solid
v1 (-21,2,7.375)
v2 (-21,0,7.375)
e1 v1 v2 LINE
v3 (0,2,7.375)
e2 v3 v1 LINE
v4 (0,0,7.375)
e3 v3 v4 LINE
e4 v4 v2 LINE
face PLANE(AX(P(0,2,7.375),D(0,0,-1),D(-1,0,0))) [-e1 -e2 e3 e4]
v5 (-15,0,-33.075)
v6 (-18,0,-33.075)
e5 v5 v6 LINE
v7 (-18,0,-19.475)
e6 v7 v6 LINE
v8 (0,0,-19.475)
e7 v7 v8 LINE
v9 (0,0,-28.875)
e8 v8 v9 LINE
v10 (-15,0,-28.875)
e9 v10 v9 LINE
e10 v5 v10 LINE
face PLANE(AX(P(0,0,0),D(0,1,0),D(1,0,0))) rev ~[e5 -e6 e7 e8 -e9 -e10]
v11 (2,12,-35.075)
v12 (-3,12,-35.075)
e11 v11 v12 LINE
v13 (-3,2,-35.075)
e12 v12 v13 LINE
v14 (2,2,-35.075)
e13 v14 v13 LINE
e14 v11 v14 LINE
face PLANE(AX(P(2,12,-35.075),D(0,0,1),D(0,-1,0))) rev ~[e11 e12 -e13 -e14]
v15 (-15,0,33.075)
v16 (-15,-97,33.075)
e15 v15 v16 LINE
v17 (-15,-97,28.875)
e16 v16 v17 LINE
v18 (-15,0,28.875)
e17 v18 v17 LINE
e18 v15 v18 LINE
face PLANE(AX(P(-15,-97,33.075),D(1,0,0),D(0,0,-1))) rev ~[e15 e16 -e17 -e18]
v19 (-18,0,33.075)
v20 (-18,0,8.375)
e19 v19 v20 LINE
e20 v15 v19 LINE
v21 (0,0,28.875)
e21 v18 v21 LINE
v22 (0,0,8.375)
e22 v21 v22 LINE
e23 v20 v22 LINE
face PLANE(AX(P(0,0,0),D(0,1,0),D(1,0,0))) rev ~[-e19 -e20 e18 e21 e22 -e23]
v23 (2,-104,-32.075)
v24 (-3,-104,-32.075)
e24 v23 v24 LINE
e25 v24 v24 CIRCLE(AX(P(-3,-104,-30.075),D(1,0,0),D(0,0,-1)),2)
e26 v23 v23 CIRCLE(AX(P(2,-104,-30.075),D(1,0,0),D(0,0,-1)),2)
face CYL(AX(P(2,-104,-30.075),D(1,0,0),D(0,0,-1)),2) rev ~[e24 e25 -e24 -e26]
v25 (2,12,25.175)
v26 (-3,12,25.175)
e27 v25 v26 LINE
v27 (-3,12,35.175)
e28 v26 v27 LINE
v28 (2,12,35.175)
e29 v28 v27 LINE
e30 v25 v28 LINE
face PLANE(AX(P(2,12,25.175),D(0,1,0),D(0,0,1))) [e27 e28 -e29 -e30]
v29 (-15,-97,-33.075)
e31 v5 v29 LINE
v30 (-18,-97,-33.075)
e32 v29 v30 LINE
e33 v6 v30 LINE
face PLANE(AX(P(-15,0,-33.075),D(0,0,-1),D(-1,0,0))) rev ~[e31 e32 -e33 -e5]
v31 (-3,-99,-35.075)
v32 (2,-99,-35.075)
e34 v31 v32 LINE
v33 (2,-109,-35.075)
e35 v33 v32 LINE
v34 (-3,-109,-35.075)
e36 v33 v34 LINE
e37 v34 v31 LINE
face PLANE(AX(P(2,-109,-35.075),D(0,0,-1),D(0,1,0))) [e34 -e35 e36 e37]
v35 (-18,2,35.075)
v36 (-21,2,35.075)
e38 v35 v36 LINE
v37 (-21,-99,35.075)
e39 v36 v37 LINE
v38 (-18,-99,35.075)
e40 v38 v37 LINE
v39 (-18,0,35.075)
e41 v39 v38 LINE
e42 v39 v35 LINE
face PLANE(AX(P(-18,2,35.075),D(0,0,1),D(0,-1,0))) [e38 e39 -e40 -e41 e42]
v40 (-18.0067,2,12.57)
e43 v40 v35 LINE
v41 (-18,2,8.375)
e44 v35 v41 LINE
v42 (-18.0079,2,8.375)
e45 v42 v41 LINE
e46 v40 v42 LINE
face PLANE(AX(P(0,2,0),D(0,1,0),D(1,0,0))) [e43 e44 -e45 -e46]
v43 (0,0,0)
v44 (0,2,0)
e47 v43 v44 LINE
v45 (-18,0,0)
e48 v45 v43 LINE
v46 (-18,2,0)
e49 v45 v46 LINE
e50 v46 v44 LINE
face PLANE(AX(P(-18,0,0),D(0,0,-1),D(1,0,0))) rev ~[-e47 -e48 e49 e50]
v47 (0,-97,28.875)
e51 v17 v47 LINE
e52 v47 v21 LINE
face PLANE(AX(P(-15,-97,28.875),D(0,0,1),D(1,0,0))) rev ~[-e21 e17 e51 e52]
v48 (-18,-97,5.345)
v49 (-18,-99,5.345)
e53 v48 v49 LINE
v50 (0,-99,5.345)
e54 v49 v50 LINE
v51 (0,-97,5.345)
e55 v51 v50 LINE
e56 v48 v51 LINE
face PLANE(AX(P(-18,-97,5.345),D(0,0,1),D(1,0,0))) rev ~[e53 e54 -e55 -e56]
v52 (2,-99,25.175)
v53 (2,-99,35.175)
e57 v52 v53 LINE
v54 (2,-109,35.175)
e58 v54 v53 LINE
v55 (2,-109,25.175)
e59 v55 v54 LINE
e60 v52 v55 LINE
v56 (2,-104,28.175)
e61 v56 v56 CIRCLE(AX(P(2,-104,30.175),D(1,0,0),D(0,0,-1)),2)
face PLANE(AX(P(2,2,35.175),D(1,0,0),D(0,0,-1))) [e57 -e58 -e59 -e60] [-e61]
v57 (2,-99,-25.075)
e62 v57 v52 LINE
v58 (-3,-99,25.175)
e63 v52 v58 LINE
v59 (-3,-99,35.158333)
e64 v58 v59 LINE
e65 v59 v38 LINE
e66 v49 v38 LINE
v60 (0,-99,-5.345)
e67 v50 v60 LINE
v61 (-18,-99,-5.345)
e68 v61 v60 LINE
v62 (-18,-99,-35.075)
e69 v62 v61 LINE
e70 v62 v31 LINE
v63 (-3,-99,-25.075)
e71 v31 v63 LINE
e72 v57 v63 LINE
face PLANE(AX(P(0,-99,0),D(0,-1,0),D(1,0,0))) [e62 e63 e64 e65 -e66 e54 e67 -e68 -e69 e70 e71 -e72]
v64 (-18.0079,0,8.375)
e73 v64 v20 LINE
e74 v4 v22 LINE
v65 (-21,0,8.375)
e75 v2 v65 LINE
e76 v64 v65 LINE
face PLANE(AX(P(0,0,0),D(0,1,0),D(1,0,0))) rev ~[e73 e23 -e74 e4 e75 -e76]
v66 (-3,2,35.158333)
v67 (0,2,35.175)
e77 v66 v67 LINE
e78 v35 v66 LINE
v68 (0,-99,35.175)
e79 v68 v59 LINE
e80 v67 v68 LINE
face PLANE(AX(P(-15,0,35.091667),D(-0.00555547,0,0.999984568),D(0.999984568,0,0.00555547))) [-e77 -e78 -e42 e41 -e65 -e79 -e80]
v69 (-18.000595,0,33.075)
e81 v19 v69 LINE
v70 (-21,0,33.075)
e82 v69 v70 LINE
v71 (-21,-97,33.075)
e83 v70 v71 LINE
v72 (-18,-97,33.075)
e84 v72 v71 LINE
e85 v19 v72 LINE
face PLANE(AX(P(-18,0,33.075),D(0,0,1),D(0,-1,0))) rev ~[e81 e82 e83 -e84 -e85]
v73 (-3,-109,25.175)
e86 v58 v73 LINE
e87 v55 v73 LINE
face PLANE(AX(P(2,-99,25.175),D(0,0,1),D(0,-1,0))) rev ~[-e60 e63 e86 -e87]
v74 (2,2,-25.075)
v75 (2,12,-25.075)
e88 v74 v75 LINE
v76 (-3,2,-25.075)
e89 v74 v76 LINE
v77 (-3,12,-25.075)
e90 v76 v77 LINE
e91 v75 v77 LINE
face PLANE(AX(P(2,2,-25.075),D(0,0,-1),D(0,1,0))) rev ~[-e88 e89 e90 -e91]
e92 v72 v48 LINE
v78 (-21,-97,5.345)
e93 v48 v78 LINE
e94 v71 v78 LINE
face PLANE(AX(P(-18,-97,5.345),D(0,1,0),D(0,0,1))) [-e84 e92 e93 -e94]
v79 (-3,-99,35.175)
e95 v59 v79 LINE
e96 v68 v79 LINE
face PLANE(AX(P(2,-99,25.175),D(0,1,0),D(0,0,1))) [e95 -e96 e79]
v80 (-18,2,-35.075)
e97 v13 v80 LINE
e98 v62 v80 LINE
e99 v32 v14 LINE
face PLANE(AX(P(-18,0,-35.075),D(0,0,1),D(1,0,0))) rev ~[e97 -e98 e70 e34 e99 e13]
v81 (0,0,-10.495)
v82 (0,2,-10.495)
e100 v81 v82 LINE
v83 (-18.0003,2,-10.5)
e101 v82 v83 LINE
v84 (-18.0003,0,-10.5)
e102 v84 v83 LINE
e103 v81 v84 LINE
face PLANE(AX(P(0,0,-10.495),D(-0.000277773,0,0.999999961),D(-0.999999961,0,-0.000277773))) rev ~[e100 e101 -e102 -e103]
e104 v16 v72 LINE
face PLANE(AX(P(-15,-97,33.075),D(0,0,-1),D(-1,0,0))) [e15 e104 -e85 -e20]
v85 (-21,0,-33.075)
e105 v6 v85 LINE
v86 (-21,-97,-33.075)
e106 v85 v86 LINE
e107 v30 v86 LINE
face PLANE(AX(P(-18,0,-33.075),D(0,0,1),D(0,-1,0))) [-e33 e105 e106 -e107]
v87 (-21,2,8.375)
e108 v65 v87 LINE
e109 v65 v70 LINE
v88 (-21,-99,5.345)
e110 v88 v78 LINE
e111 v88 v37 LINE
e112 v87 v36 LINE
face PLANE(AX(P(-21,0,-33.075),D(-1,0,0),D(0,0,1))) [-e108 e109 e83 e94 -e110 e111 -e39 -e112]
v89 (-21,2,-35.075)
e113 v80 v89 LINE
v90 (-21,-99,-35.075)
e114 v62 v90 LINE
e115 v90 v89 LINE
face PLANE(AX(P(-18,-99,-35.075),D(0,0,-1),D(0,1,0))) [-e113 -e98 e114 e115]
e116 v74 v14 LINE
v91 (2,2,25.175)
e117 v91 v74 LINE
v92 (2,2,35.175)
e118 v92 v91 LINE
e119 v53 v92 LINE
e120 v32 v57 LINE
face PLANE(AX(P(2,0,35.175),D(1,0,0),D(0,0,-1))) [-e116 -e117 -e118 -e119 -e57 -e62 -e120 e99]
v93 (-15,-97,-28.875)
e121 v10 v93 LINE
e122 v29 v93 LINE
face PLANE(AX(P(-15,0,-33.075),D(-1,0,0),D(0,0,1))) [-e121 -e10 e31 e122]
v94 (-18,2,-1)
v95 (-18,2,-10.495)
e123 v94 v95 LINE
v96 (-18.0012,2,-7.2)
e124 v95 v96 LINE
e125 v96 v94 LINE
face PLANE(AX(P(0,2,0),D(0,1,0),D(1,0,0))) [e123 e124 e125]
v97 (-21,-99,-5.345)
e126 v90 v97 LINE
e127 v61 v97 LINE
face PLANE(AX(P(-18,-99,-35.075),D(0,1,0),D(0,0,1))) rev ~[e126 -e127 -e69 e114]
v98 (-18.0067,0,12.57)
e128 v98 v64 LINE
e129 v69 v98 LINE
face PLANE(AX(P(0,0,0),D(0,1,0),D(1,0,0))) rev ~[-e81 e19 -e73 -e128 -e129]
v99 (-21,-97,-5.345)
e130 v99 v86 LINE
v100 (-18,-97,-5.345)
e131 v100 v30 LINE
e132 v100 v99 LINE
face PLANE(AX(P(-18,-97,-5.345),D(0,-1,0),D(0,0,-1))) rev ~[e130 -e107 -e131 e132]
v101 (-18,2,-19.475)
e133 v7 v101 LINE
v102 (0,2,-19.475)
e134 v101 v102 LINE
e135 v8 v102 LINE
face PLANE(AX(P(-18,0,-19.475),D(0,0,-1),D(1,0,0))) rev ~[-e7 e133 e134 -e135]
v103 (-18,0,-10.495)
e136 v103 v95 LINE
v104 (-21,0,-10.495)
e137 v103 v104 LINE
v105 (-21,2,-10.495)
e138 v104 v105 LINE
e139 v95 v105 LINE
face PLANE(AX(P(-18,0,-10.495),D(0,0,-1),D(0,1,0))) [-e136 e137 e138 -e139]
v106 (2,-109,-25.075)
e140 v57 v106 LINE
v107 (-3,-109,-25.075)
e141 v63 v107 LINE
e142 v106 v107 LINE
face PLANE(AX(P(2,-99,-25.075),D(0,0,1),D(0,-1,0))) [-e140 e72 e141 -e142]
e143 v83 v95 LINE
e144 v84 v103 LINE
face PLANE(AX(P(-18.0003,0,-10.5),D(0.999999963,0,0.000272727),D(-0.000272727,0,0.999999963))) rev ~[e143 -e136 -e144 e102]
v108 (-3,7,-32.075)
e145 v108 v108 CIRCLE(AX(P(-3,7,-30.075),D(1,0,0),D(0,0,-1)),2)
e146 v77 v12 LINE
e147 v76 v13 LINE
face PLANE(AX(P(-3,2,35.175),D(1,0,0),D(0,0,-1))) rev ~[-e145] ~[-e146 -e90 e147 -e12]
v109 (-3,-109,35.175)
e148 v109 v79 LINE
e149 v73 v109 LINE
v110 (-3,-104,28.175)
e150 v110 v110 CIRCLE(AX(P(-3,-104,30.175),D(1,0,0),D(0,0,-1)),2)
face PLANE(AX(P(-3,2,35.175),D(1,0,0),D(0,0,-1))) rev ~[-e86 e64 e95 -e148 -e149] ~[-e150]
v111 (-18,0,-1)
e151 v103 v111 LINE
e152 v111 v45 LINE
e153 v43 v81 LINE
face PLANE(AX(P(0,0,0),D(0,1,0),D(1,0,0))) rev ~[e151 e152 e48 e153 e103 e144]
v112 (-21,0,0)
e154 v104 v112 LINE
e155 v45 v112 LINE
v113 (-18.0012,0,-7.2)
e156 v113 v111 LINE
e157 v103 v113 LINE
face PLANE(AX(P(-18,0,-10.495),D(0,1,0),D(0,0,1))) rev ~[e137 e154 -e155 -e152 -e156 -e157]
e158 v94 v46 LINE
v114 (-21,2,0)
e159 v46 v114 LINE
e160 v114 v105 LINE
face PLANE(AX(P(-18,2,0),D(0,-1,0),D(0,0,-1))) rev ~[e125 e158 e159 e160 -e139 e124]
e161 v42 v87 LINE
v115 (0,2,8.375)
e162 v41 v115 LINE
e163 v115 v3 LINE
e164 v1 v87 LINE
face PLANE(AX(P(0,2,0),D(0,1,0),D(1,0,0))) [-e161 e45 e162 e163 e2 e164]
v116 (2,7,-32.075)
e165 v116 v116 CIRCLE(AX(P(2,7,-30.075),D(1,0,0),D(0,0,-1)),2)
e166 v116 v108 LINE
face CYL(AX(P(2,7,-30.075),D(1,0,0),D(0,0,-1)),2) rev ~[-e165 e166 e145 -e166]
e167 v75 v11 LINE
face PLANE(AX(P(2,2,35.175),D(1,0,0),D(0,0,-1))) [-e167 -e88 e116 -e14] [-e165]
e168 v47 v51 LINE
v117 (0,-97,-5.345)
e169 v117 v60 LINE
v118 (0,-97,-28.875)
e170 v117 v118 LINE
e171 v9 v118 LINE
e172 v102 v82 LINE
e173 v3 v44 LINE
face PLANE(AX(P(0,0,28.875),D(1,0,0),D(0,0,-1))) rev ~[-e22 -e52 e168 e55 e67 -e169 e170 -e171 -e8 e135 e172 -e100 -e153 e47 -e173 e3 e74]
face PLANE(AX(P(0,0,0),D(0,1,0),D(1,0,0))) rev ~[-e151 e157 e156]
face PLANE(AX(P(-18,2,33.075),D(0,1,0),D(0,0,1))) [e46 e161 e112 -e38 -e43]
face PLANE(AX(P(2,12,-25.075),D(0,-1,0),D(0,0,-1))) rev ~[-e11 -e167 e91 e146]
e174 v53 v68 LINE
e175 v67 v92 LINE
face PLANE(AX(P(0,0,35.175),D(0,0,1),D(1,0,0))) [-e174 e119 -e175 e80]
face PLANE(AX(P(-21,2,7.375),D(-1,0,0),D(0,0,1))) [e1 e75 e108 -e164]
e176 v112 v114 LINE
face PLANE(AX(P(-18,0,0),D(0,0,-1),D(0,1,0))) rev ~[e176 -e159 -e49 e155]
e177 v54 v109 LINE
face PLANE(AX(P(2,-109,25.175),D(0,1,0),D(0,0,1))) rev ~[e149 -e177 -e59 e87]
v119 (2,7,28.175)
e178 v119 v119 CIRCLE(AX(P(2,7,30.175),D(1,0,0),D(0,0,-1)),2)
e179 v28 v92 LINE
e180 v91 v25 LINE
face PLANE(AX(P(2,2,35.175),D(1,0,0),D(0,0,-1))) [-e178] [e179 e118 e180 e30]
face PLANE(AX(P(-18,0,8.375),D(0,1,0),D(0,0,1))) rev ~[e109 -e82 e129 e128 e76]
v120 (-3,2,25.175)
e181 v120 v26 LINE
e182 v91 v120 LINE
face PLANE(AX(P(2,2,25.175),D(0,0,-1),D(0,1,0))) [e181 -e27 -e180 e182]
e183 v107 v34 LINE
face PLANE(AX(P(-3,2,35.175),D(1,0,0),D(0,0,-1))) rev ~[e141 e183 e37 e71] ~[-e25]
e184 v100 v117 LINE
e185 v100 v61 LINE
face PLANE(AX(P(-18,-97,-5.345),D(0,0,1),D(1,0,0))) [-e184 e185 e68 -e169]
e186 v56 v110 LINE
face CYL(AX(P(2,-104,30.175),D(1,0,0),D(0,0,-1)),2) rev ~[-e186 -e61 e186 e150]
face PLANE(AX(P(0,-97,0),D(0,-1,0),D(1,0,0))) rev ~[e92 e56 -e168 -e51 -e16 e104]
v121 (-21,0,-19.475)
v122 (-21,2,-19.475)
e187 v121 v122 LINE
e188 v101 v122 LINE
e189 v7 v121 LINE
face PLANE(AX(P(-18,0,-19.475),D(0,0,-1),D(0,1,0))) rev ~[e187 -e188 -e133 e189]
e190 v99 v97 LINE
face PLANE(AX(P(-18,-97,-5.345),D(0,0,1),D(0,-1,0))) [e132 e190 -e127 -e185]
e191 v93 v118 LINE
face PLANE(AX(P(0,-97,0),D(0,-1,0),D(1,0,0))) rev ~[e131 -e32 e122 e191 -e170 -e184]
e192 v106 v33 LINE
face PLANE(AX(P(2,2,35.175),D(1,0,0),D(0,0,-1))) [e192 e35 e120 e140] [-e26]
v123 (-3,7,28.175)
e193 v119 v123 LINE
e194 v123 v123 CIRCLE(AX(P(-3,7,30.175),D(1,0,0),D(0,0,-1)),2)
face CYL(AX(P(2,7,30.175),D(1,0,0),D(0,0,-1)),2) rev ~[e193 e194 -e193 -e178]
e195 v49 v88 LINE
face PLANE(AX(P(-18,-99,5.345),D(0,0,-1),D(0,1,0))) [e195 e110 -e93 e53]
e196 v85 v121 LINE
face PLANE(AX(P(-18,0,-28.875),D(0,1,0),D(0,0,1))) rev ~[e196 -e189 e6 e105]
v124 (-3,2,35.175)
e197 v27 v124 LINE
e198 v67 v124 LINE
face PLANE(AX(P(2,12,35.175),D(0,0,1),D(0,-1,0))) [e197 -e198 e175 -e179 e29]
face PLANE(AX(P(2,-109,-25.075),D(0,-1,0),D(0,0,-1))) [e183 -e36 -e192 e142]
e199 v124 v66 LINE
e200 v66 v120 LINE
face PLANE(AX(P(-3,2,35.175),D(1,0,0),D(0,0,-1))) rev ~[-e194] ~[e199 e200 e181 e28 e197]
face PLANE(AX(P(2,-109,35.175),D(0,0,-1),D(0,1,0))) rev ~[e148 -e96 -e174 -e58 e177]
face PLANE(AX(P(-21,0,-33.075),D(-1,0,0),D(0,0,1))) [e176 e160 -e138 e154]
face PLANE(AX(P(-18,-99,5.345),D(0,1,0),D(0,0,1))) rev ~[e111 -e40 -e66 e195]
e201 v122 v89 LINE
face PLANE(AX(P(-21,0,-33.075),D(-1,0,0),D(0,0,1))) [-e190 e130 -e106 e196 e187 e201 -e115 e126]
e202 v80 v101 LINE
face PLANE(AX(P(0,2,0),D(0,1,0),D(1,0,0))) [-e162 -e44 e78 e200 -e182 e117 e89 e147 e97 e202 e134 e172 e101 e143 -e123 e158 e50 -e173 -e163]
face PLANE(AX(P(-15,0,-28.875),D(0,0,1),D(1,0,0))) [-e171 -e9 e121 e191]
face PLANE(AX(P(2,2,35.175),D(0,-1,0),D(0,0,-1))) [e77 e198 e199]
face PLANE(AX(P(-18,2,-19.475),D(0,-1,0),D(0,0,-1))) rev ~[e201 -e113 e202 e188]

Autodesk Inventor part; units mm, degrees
ref_plane "YZ Plane" through (0, 0, 0) normal (1, 0, 0) x (0, 1, 0)
ref_plane "XZ Plane" through (0, 0, 0) normal (0, 1, 0) x (-1, 0, 0)
ref_plane "XY Plane" through (0, 0, 0) normal (0, 0, 1) x (1, 0, 0)
sketch "Sketch1" plane through (0, 0, 0) normal (0, 1, 0) x (-1, 0, 0)
  line L0 (15, 35.0917) -> (15, 35.175)
  line L1 (-2, 35.175) -> (-2, -33.075)
  line L2 (-2, -33.075) -> (-2, -35.075)
  line L3 (15, 33.075) -> (15, 28.875)
  line L4 (15, 28.875) -> (0, 28.875)
  line L5 (15, 33.075) -> (18, 33.075)
  line L6 (18, 33.075) -> (18, 35.075)
  line L7 (18, 35.075) -> (0, 35.175)
  line L8 (15, -33.075) -> (15, -28.875)
  line L9 (15, -28.875) -> (0, -28.875)
  line L10 (15, -33.075) -> (18, -33.075)
  line L11 (18, -33.075) -> (18, -35.075)
  line L12 (18, -35.075) -> (0, -35.075)
  line L13 (0, 35.175) -> (-2, 35.175)
  line L14 (0, -35.075) -> (-2, -35.075)
  line L15 (0, 28.875) -> (0, -28.875)
  point P0 (0, 0)
  point P1 (15, 39.275)
  point P2 (-2, -37.275)
  point P3 (-2, -39.275)
  point P4 (18, -39.275)
  point P5 (18, -37.275)
extrude "Extrusion1" add sketch "Sketch1" against normal blind 97
sketch "Sketch2" plane through (0, 0, 0) normal (0, 1, 0) x (1, 0, 0)
  line L0 (2, 39.275) -> (-18, 39.275) projected
  line L1 (2, -35.175) -> (2, 35.075) projected
  line L2 (-18, 39.275) -> (-18, 37.275) projected
  line L3 (-18, 35.075) -> (-18, 25.675)
  line L4 (0, -28.875) -> (0, 28.875) projected
  line L5 (0, 25.675) -> (0, 17.695)
  line L6 (-18.0003, 10.5) -> (-18.0012, 7.2)
  line L7 (-18, -35.075) -> (-18.0067, -12.57)
  line L8 (-18, -33.075) -> (-18, -35.075) projected
  line L9 (-18, -35.075) -> (0, -35.175) projected
  line L10 (2, 35.075) -> (-18, 35.075) projected
  line L11 (-18, 35.075) -> (-18, 33.075) projected
  line L12 (-18, -35.075) -> (-18, -33.075) projected
  line L13 (-18, -35.075) -> (-18, -10.375)
  line L14 (-18, 33.075) -> (-18, 19.475)
  line L15 (-18, 19.475) -> (0, 19.475)
  line L16 (0, 19.475) -> (0, 11.495)
  line L17 (-18, 10.5) -> (-18, 1)
  line L18 (-18, -33.075) -> (-18.0079, -8.375)
  line L19 (-18.0079, -8.375) -> (0, -8.375)
  line L20 (0, 11.495) -> (0, 10.495)
  line L21 (0, 10.495) -> (-18, 10.5)
  line L22 (-18, 1) -> (-18, 0)
  line L23 (-18, 0) -> (0, 0)
  line L24 (0, -35.175) -> (-18, -35.075) projected
  line L25 (-18, -33.075) -> (-15, -33.075) projected
  line L26 (-18, -35.075) -> (0, -35.175) projected
  line L27 (0, -35.175) -> (2, -35.175) projected
  line L28 (2, -35.175) -> (2, 35.075) projected
  line L29 (2, 35.075) -> (-18, 35.075) projected
  line L30 (-18, 35.075) -> (-18, 33.075) projected
  line L31 (-18, 33.075) -> (-15, 33.075) projected
  line L32 (-15, 33.075) -> (-15, 28.875) projected
  line L33 (-15, 28.875) -> (0, 28.875) projected
  line L34 (0, 28.875) -> (0, -28.875) projected
  line L35 (0, -28.875) -> (-15, -28.875) projected
  line L36 (-15, -28.875) -> (-15, -33.075) projected
  line L37 (-15, -33.075) -> (-18, -33.075) projected
  line L38 (-18, -33.075) -> (-18, -35.075) projected
  line L39 (2, -35.175) -> (2, 35.075) projected
  line L40 (2, 35.075) -> (2, -35.175) projected
  line L41 (-15, -33.075) -> (-18, -33.075) projected
  line L42 (-15, -28.875) -> (-15, -33.075) projected
  line L43 (0, -28.875) -> (-15, -28.875) projected
  line L44 (0, 28.875) -> (0, -28.875) projected
  line L45 (0, 28.875) -> (0, -28.875) projected
  line L46 (0, -28.875) -> (0, 28.875) projected
  line L47 (2, 35.075) -> (-18, 35.075) projected
  line L48 (-18, 35.075) -> (2, 35.075) projected
  line L49 (-15, 28.875) -> (0, 28.875) projected
  line L50 (-15, 28.875) -> (0, 28.875) projected
  line L51 (0, 28.875) -> (-15, 28.875) projected
  line L52 (-15, 33.075) -> (-15, 28.875) projected
  line L53 (-15, 33.075) -> (-15, 28.875) projected
  line L54 (-15, 28.875) -> (-15, 33.075) projected
  line L55 (-18, 35.075) -> (-18, 33.075) projected
  line L56 (-18, 33.075) -> (-18, 35.075) projected
  line L57 (-18, 33.075) -> (-15, 33.075) projected
  line L58 (-15, 33.075) -> (-18, 33.075) projected
  line L59 (-18, 33.075) -> (-15, 33.075) projected
  line L60 (-15, 33.075) -> (-18, 33.075) projected
  line L61 (-18, 33.075) -> (-18, 35.075) projected
  line L62 (0, 28.875) -> (-15, 28.875) projected
  line L63 (-15, -28.875) -> (0, -28.875) projected
  line L64 (-15, -33.075) -> (-15, -28.875) projected
  line L65 (2, 35.075) -> (2, -35.175) projected
  line L66 (0, -35.175) -> (-18, -35.075) projected
  line L67 (-18, -35.075) -> (-18, -33.075) projected
  line L68 (-18, -33.075) -> (-15, -33.075) projected
  line L69 (-15, -33.075) -> (-15, -28.875) projected
  line L70 (-15, -28.875) -> (0, -28.875) projected
  line L71 (0, -28.875) -> (0, 28.875) projected
  line L72 (0, 28.875) -> (-15, 28.875) projected
  line L73 (-15, 28.875) -> (-15, 33.075) projected
  line L74 (-15, 33.075) -> (-18, 33.075) projected
  line L75 (-18, 33.075) -> (-18, 35.075) projected
  line L76 (-18, 35.075) -> (2, 35.075) projected
  line L77 (2, 35.075) -> (2, -35.175) projected
  line L78 (2, -35.175) -> (0, -35.175) projected
  line L79 (-18, 35.075) -> (2, 35.075) projected
  line L80 (-15, 28.875) -> (-15, 33.075) projected
  line L81 (0, -28.875) -> (-15, -28.875) projected
  line L82 (-15, -28.875) -> (0, -28.875) projected
  line L83 (-15, -28.875) -> (-15, -33.075) projected
  line L84 (-15, -33.075) -> (-15, -28.875) projected
  line L85 (2, -35.175) -> (0, -35.175) projected
  line L86 (0, -35.175) -> (2, -35.175) projected
  line L87 (0, -35.175) -> (2, -35.175) projected
  line L88 (2, -35.175) -> (0, -35.175) projected
  line L89 (-18, -35.075) -> (0, -35.175) projected
  line L90 (0, -35.175) -> (-18, -35.075) projected
  line L91 (-15, -33.075) -> (-18, -33.075) projected
  line L92 (-18, -33.075) -> (-15, -33.075) projected
  line L93 (-18, -33.075) -> (-18, -35.075) projected
  line L94 (-18, -35.075) -> (-18, -33.075) projected
  point P0 (0, 33.075)
  point P1 (-18.0067, -12.57)
  dimension "d20" = 13.6
  dimension "d23" = 24.7
sketch "Sketch3" plane through (0, -97, 0) normal (0, -1, 0) x (1, 0, 0)
  line L0 (-18, -35.075) -> (2, -35.075) projected
  line L1 (-18, -33.075) -> (-18, -35.075) projected
  line L2 (0, 35.175) -> (-18, 35.075) projected
  line L3 (-18, 35.075) -> (-18, 33.075) projected
  line L4 (-18, -33.075) -> (-18, -5.345)
  line L5 (-18, -5.345) -> (0, -5.345)
  line L6 (-15, 33.075) -> (-18, 33.075) projected
  line L7 (0, 28.875) -> (0, -28.875) projected
  line L8 (-15, 33.075) -> (-15, 28.875) projected
  line L9 (-15, -28.875) -> (-15, -33.075) projected
  line L10 (0, -28.875) -> (-15, -28.875) projected
  line L11 (-15, 28.875) -> (0, 28.875) projected
  line L12 (-18, 33.075) -> (-15, 33.075) projected
  line L13 (-15, -33.075) -> (-18, -33.075) projected
  line L14 (0, 35.175) -> (-18, 35.075) projected
  line L15 (-18, 35.075) -> (-18, 33.075) projected
  line L16 (-18, 33.075) -> (-15, 33.075) projected
  line L17 (-15, 33.075) -> (-15, 28.875) projected
  line L18 (-15, 28.875) -> (0, 28.875) projected
  line L19 (0, 28.875) -> (0, -28.875) projected
  line L20 (0, -28.875) -> (-15, -28.875) projected
  line L21 (-15, -28.875) -> (-15, -33.075) projected
  line L22 (-15, -33.075) -> (-18, -33.075) projected
  line L23 (-18, -33.075) -> (-18, -35.075) projected
  line L24 (-18, -35.075) -> (2, -35.075) projected
  line L25 (2, -35.075) -> (2, 35.175) projected
  line L26 (2, 35.175) -> (0, 35.175) projected
  line L27 (2, 35.175) -> (2, -35.075) projected
  line L28 (2, -35.075) -> (2, 35.175) projected
  line L29 (-18, 35.075) -> (0, 35.175) projected
  line L30 (-18, 33.075) -> (-18, 35.075) projected
  line L31 (2, -35.075) -> (-18, -35.075) projected
  line L32 (-18, -35.075) -> (2, -35.075) projected
  line L33 (-18, -35.075) -> (-18, -33.075) projected
  line L34 (-18, -33.075) -> (-18, -35.075) projected
  line L35 (-15, -33.075) -> (-15, -28.875) projected
  line L36 (-15, -28.875) -> (-15, -33.075) projected
  line L37 (-18, -33.075) -> (-15, -33.075) projected
  line L38 (-15, -33.075) -> (-18, -33.075) projected
  line L39 (-15, -28.875) -> (0, -28.875) projected
  line L40 (0, -28.875) -> (-15, -28.875) projected
  line L41 (0, -28.875) -> (0, 28.875) projected
  line L42 (0, 28.875) -> (0, -28.875) projected
  line L43 (2, -35.075) -> (2, 35.175) projected
  line L44 (2, 35.175) -> (2, -35.075) projected
  line L45 (-18, 35.075) -> (0, 35.175) projected
  line L46 (0, 35.175) -> (2, 35.175) projected
  line L47 (2, 35.175) -> (2, -35.075) projected
  line L48 (2, -35.075) -> (-18, -35.075) projected
  line L49 (-18, -35.075) -> (-18, -33.075) projected
  line L50 (-18, -33.075) -> (-15, -33.075) projected
  line L51 (-15, -33.075) -> (-15, -28.875) projected
  line L52 (-15, -28.875) -> (0, -28.875) projected
  line L53 (0, -28.875) -> (0, 28.875) projected
  line L54 (0, 28.875) -> (-15, 28.875) projected
  line L55 (-15, 28.875) -> (-15, 33.075) projected
  line L56 (-15, 33.075) -> (-18, 33.075) projected
  line L57 (-18, 33.075) -> (-18, 35.075) projected
  line L58 (-15, 28.875) -> (-15, 33.075) projected
  line L59 (0, 28.875) -> (-15, 28.875) projected
  line L60 (0, -28.875) -> (0, 28.875) projected
  line L61 (2, -35.075) -> (-18, -35.075) projected
  line L62 (-15, -28.875) -> (0, -28.875) projected
  line L63 (-15, -33.075) -> (-15, -28.875) projected
  line L64 (-18, -33.075) -> (-15, -33.075) projected
  line L65 (-18, -35.075) -> (-18, -33.075) projected
  line L66 (0, 28.875) -> (-15, 28.875) projected
  line L67 (-15, 28.875) -> (0, 28.875) projected
  line L68 (-15, 28.875) -> (-15, 33.075) projected
  line L69 (-15, 33.075) -> (-15, 28.875) projected
  line L70 (-15, 33.075) -> (-18, 33.075) projected
  line L71 (-18, 33.075) -> (-15, 33.075) projected
  line L72 (-18, 33.075) -> (-18, 35.075) projected
  line L73 (-18, 35.075) -> (-18, 33.075) projected
  line L74 (2, 35.175) -> (0, 35.175) projected
  line L75 (0, 35.175) -> (2, 35.175) projected
  line L76 (0, 35.175) -> (2, 35.175) projected
  line L77 (2, 35.175) -> (0, 35.175) projected
  line L78 (-18, 35.075) -> (0, 35.175) projected
  line L79 (0, 35.175) -> (-18, 35.075) projected
  line L80 (-18, 33.075) -> (-18, 5.345)
  line L81 (-18, 5.345) -> (0, 5.345)
  point P0 (0, 0)
  dimension "d26" = 27.73
  dimension "d33" = 27.73
  dimension "d34" = 90
extrude "Extrusion2" add sketch "Sketch2" along normal blind 2
extrude "Extrusion3" add sketch "Sketch3" along normal blind 2 contours L1 L13 L9 L10 L7 L11 L8 L6 L3 L2 L26 L25 L0 | L4 L5 L7 L10 L9 L13
extrude "Extrusion4" add sketch "Sketch3" along normal up to surface (2 mm away) contours L81 L80 L6 L8 L11 L7
sketch "Sketch5" plane through (-18, 0, -33.075) normal (-1, 0, 0) x (0, 0, 1)
  line L0 (66.15, 2) -> (68.15, 2) projected
  line L1 (68.15, 2) -> (68.25, 2) projected
  line L2 (68.15, 2) -> (68.15, -99) projected
  line L3 (68.25, -99) -> (68.25, 2) projected
  line L4 (68.25, -99) -> (68.25, 2) projected
  line L5 (66.15, 0) -> (66.15, 2) projected
  line L6 (68.25, 2) -> (-2, 2) projected
  line L7 (68.25, -99) -> (68.25, 2) projected
  line L8 (-2, -99) -> (68.25, -99) projected
  line L9 (-2, -99) -> (-2, 2) projected
  line L10 (68.25, 2) -> (-2, 2) projected
  line L11 (38.42, -99) -> (38.42, -97) projected
  line L12 (38.42, -97) -> (61.95, -97) projected
  line L13 (61.95, 0) -> (61.95, -97) projected
  line L14 (41.45, 0) -> (61.95, 0) projected
  line L15 (41.45, 0) -> (41.45, 2) projected
  line L16 (33.075, 2) -> (41.45, 2) projected
  line L17 (33.075, 0) -> (33.075, 2) projected
  line L18 (22.58, 0) -> (33.075, 0) projected
  line L19 (22.58, 0) -> (22.58, 2) projected
  line L20 (13.6, 2) -> (22.58, 2) projected
  line L21 (13.6, 0) -> (13.6, 2) projected
  line L22 (4.2, 0) -> (13.6, 0) projected
  line L23 (4.2, 0) -> (4.2, -97) projected
  line L24 (27.73, -97) -> (4.2, -97) projected
  line L25 (27.73, -97) -> (27.73, -99) projected
  line L26 (38.42, -99) -> (27.73, -99) projected
  line L27 (27.73, -97) -> (27.73, -99) projected
  line L28 (27.73, -97) -> (27.73, -99) projected
  line L29 (27.73, -97) -> (27.73, -99) projected
  line L30 (13.6, 0) -> (13.6, 2) projected
  line L31 (4.2, 0) -> (4.2, -97) projected
  line L32 (4.2, 0) -> (4.2, -97) projected
  line L33 (4.2, 0) -> (4.2, -97) projected
  line L34 (4.2, 0) -> (4.2, -97) projected
  line L35 (27.73, -99) -> (-2, -99) projected
  line L36 (-2, -99) -> (-2, 2) projected
  line L37 (27.73, -99) -> (-2, -99) projected
  line L38 (27.73, -97) -> (27.73, -99) projected
  line L39 (27.73, -97) -> (0, -97) projected
  line L40 (0, 0) -> (0, -97) projected
  line L41 (0, 0) -> (13.6, 0) projected
  line L42 (13.6, 0) -> (13.6, 2) projected
  line L43 (-2, 2) -> (13.6, 2) projected
  line L44 (-2, -99) -> (-2, 2) projected
  line L45 (-2, -99) -> (-2, 2) projected
  line L46 (-2, -99) -> (-2, 2) projected
  line L47 (-2, -99) -> (-2, 2) projected
  line L48 (-2, 2) -> (13.6, 2) projected
  line L49 (0, 0) -> (13.6, 0) projected
  line L50 (0, 0) -> (4.2, 0) projected
  line L51 (0, 0) -> (4.2, 0) projected
  line L52 (0, 0) -> (0, -97) projected
  line L53 (4.2, -97) -> (0, -97) projected
  line L54 (4.2, 0) -> (4.2, -97) projected
  line L55 (0, 0) -> (0, -97) projected
  line L56 (0, 0) -> (0, -97) projected
  line L57 (0, 0) -> (0, -97) projected
  line L58 (0, 0) -> (0, -97) projected
  line L59 (-2, -99) -> (68.25, -99) projected
  line L60 (38.42, -97) -> (61.95, -97) projected
  line L61 (27.73, -97) -> (27.73, -99) projected
  line L62 (38.42, -97) -> (38.42, -99) projected
  line L63 (38.42, -99) -> (38.42, -97) projected
  line L64 (38.42, -97) -> (38.42, -99) projected
  line L65 (38.42, -99) -> (38.42, -97) projected
  line L66 (4.2, -97) -> (0, -97) projected
  line L67 (27.73, -97) -> (0, -97) projected
  line L68 (27.73, -97) -> (4.2, -97) projected
  line L69 (27.73, -97) -> (0, -97) projected
  line L70 (27.73, -97) -> (4.2, -97) projected
  line L71 (4.2, -97) -> (0, -97) projected
  line L72 (61.95, 0) -> (61.95, -97) projected
  line L73 (61.95, 0) -> (61.95, -97) projected
  line L74 (61.95, 0) -> (61.95, -97) projected
  line L75 (61.95, 0) -> (61.95, -97) projected
  line L76 (61.95, -97) -> (66.15, -97) projected
  line L77 (66.15, -97) -> (38.42, -97) projected
  line L78 (61.95, 0) -> (66.15, 0) projected
  line L79 (61.95, -97) -> (66.15, -97) projected
  line L80 (66.15, 0) -> (66.15, -97) projected
  line L81 (61.95, 0) -> (66.15, 0) projected
  line L82 (61.95, 0) -> (61.95, -97) projected
  line L83 (66.15, 0) -> (66.15, -97) projected
  line L84 (66.15, 0) -> (66.15, -97) projected
  line L85 (66.15, 0) -> (66.15, -97) projected
  line L86 (66.15, -97) -> (38.42, -97) projected
  line L87 (61.95, -97) -> (66.15, -97) projected
  line L88 (38.42, -97) -> (61.95, -97) projected
  line L89 (68.15, -99) -> (38.42, -99) projected
  line L90 (66.15, 0) -> (66.15, -97) projected
  line L91 (66.15, -97) -> (38.42, -97) projected
  line L92 (38.42, -97) -> (38.42, -99) projected
  line L93 (68.15, -99) -> (38.42, -99) projected
  line L94 (68.15, 2) -> (68.15, -99) projected
  line L95 (66.15, 2) -> (68.15, 2) projected
  line L96 (66.15, 0) -> (66.15, 2) projected
  line L97 (68.25, -99) -> (68.15, -99) projected
  line L98 (68.15, 2) -> (68.15, -99) projected
  line L99 (68.25, -99) -> (68.15, -99) projected
  line L100 (68.25, -99) -> (68.25, 2) projected
  line L101 (68.15, 2) -> (68.25, 2) projected
  line L102 (68.25, -99) -> (68.25, 2) projected
  line L103 (68.25, -99) -> (68.25, 2) projected
  line L104 (66.15, 0) -> (66.15, -97) projected
  line L105 (13.6, 2) -> (22.58, 2) projected
  line L106 (4.2, 0) -> (13.6, 0) projected
  line L107 (13.6, 0) -> (13.6, 2) projected
  line L108 (41.45, 0) -> (61.95, 0) projected
  line L109 (33.075, 2) -> (41.45, 2) projected
  line L110 (22.58, 0) -> (33.075, 0) projected
  line L111 (22.58, 0) -> (22.58, 2) projected
  line L112 (41.45, 0) -> (41.45, 2) projected
  line L113 (33.075, 0) -> (33.075, 2) projected
  line L114 (38.42, -99) -> (27.73, -99) projected
  line L115 (27.73, -99) -> (-2, -99) projected
  line L116 (-2, -99) -> (68.25, -99) projected
  line L117 (68.25, -99) -> (68.15, -99) projected
  line L118 (68.15, -99) -> (38.42, -99) projected
  line L119 (38.42, -99) -> (27.73, -99) projected
  line L120 (22.58, 2) -> (22.575, 2) projected
  line L121 (22.575, 0) -> (22.575, 2) projected
  line L122 (22.575, 2) -> (33.075, 2) projected
  line L123 (33.075, 0) -> (33.075, 2) projected
  line L124 (41.45, 0) -> (41.45, 2) projected
  line L125 (41.45, 2) -> (66.15, 2) projected
  line L126 (41.45, 0) -> (66.15, 0) projected
  line L127 (22.58, 0) -> (22.575, 0) projected
  line L128 (22.575, 0) -> (33.075, 0) projected
  line L129 (41.45, 0) -> (66.15, 0) projected
  line L130 (41.45, 0) -> (61.95, 0) projected
  line L131 (61.95, 0) -> (66.15, 0) projected
  line L132 (41.45, 0) -> (41.45, 2) projected
  line L133 (41.45, 0) -> (41.45, 2) projected
  line L134 (41.45, 0) -> (66.15, 0) projected
  line L135 (66.15, 0) -> (66.15, 2) projected
  line L136 (41.45, 2) -> (66.15, 2) projected
  line L137 (41.45, 0) -> (41.45, 2) projected
  line L138 (22.58, 2) -> (22.575, 2) projected
  line L139 (22.575, 2) -> (33.075, 2) projected
  line L140 (33.075, 2) -> (41.45, 2) projected
  line L141 (41.45, 2) -> (66.15, 2) projected
  line L142 (66.15, 2) -> (68.15, 2) projected
  line L143 (68.15, 2) -> (68.25, 2) projected
  line L144 (68.25, 2) -> (-2, 2) projected
  line L145 (-2, 2) -> (13.6, 2) projected
  line L146 (13.6, 2) -> (22.58, 2) projected
  line L147 (22.58, 0) -> (33.075, 0) projected
  line L148 (22.575, 0) -> (33.075, 0) projected
  line L149 (22.58, 0) -> (22.575, 0) projected
  line L150 (22.58, 0) -> (22.575, 0) projected
  line L151 (22.575, 0) -> (22.575, 2) projected
  line L152 (22.58, 2) -> (22.575, 2) projected
  line L153 (22.58, 0) -> (22.58, 2) projected
  line L154 (22.575, 0) -> (33.075, 0) projected
  line L155 (33.075, 0) -> (33.075, 2) projected
  line L156 (22.575, 2) -> (33.075, 2) projected
  line L157 (22.575, 0) -> (22.575, 2) projected
  line L158 (13.6, 0) -> (13.6, 2) projected
  line L159 (13.6, 0) -> (13.6, 2) projected
  line L160 (0, 0) -> (4.2, 0) projected
  line L161 (4.2, 0) -> (13.6, 0) projected
  line L162 (0, 0) -> (13.6, 0) projected
  line L163 (33.075, 0) -> (33.075, 2) projected
  line L164 (33.075, 0) -> (33.075, 2) projected
  line L165 (66.15, -97) -> (61.95, -97) projected
  line L166 (61.95, -97) -> (4.2, -97) projected
  line L167 (4.2, -97) -> (61.95, -97) projected
  line L168 (4.2, -97) -> (61.95, -97) projected
  line L169 (61.95, -97) -> (4.2, -97) projected
  line L170 (4.2, -97) -> (61.95, -97) projected
  line L171 (61.95, -97) -> (4.2, -97) projected
  line L172 (66.15, -97) -> (38.42, -97) projected
  line L173 (68.25, -97) -> (68.15, -97) projected
  line L174 (68.15, -97) -> (68.25, -97) projected
  line L175 (68.15, -97) -> (68.25, -97) projected
  line L176 (68.25, -97) -> (68.15, -97) projected
  line L177 (68.15, -97) -> (66.15, -97) projected
  line L178 (68.15, -97) -> (66.15, -97) projected
  line L179 (66.15, -97) -> (68.15, -97) projected
  line L180 (4.2, -97) -> (0, -97) projected
  line L181 (0, -97) -> (27.73, -97) projected
  line L182 (-2, -97) -> (68.25, -97) projected
  line L183 (68.25, -97) -> (-2, -97) projected
  line L184 (-2, -97) -> (68.25, -97) projected
  line L185 (68.25, -97) -> (-2, -97) projected
  line L186 (-2, -97) -> (68.25, -97) projected
  line L187 (68.25, -97) -> (-2, -97) projected
  line L188 (0, -97) -> (-2, -97) projected
  line L189 (0, -97) -> (-2, -97) projected
  line L190 (-2, -97) -> (0, -97) projected
  line L191 (0, -97) -> (-2, -97) projected
  line L192 (4.2, -97) -> (0, -97) projected
  line L193 (0, -97) -> (4.2, -97) projected
  line L194 (4.2, -97) -> (0, -97) projected
  line L195 (66.15, -97) -> (61.95, -97) projected
  line L196 (61.95, -97) -> (66.15, -97) projected
  line L197 (61.95, -97) -> (66.15, -97) projected
  line L198 (-2, -97) -> (0, -97) projected
  line L199 (0, -97) -> (4.2, -97) projected
  line L200 (0, -97) -> (4.2, -97) projected
  line L201 (-2, -97) -> (0, -97) projected
  line L202 (66.15, -97) -> (68.15, -97) projected
  line L203 (68.15, -97) -> (68.25, -97) projected
  line L204 (68.25, -97) -> (68.15, -97) projected
  line L205 (61.95, -97) -> (66.15, -97) projected
  line L206 (66.15, -97) -> (61.95, -97) projected
  line L207 (66.15, -97) -> (68.15, -97) projected
  line L208 (68.15, -97) -> (66.15, -97) projected
  point P0 (33.075, -97)
  point P1 (-2, 2)
extrude "Extrusion5" add sketch "Sketch5" along normal blind 3 contours L0 L2 L177 L80 L5 | L5 L78 L14 L15 L6 | L2 L8 L11 L12 L76 L177 | L17 L18 L19 L6 | L8 L9 L182 L39 L24 L25 | L21 L22 L41 L40 L182 L9 L6
sketch "Sketch6" plane through (0, 2, 0) normal (0, 1, 0) x (1, 0, 0)
  line L0 (0, 0) -> (0, -8.375) projected
  line L1 (0, -8.375) -> (-21, -8.375) projected
  line L2 (0, -8.375) -> (0, -7.375)
  line L3 (0, -7.375) -> (-21, -7.375)
  line L4 (-21, -7.375) -> (-21, -8.375)
  dimension "d39" = 1
extrude "Extrusion6" add sketch "Sketch6" against normal up to surface (2 mm away)
sketch "스케치7" plane through (2, 2, 35.175) normal (1, 0, 0) x (0, 0, -1)
  line L0 (0, -101) -> (0, 0) projected
  line L1 (70.25, -101) -> (0, -101) projected
  line L2 (70.25, -101) -> (70.25, 0) projected
  line L3 (0, 0) -> (70.25, 0) projected
  line L4 (70.25, -101) -> (60.25, -101)
  line L5 (60.25, -101) -> (60.25, -111)
  line L6 (60.25, -111) -> (70.25, -111)
  line L7 (70.25, -111) -> (70.25, -101)
  line L8 (70.25, -50.5) -> (0, -50.5) construction
  line L9 (35.125, 0) -> (35.125, -101) construction
  line L10 (60.25, 0) -> (60.25, 10)
  line L11 (60.25, 10) -> (70.25, 10)
  line L12 (70.25, 10) -> (70.25, 0)
  line L13 (10, -101) -> (10, -111)
  line L14 (10, -111) -> (0, -111)
  line L15 (0, -111) -> (0, -101)
  line L16 (10, 0) -> (10, 10)
  line L17 (10, 10) -> (0, 10)
  line L18 (0, 10) -> (0, 0)
  circle A0 centre (65.25, -106) radius 2
  circle A1 centre (65.25, 5) radius 2
  circle A2 centre (5, -106) radius 2
  circle A3 centre (5, 5) radius 2
  point P0 (35.175, -2)
  point P1 (10, 0)
  dimension "d42" = 10
  dimension "d43" = 10
  dimension "d44" = 4
  dimension "d45" = 111
  dimension "d46" = 60.25
extrude "돌출7" add sketch "스케치7" against normal blind 5 contours L1 L13 L14 L15 | L18 L17 L16 L3 | L1 L7 L6 L5 | L10 L11 L12 L3
properties part number "stm32" material "고무, 검은색"
